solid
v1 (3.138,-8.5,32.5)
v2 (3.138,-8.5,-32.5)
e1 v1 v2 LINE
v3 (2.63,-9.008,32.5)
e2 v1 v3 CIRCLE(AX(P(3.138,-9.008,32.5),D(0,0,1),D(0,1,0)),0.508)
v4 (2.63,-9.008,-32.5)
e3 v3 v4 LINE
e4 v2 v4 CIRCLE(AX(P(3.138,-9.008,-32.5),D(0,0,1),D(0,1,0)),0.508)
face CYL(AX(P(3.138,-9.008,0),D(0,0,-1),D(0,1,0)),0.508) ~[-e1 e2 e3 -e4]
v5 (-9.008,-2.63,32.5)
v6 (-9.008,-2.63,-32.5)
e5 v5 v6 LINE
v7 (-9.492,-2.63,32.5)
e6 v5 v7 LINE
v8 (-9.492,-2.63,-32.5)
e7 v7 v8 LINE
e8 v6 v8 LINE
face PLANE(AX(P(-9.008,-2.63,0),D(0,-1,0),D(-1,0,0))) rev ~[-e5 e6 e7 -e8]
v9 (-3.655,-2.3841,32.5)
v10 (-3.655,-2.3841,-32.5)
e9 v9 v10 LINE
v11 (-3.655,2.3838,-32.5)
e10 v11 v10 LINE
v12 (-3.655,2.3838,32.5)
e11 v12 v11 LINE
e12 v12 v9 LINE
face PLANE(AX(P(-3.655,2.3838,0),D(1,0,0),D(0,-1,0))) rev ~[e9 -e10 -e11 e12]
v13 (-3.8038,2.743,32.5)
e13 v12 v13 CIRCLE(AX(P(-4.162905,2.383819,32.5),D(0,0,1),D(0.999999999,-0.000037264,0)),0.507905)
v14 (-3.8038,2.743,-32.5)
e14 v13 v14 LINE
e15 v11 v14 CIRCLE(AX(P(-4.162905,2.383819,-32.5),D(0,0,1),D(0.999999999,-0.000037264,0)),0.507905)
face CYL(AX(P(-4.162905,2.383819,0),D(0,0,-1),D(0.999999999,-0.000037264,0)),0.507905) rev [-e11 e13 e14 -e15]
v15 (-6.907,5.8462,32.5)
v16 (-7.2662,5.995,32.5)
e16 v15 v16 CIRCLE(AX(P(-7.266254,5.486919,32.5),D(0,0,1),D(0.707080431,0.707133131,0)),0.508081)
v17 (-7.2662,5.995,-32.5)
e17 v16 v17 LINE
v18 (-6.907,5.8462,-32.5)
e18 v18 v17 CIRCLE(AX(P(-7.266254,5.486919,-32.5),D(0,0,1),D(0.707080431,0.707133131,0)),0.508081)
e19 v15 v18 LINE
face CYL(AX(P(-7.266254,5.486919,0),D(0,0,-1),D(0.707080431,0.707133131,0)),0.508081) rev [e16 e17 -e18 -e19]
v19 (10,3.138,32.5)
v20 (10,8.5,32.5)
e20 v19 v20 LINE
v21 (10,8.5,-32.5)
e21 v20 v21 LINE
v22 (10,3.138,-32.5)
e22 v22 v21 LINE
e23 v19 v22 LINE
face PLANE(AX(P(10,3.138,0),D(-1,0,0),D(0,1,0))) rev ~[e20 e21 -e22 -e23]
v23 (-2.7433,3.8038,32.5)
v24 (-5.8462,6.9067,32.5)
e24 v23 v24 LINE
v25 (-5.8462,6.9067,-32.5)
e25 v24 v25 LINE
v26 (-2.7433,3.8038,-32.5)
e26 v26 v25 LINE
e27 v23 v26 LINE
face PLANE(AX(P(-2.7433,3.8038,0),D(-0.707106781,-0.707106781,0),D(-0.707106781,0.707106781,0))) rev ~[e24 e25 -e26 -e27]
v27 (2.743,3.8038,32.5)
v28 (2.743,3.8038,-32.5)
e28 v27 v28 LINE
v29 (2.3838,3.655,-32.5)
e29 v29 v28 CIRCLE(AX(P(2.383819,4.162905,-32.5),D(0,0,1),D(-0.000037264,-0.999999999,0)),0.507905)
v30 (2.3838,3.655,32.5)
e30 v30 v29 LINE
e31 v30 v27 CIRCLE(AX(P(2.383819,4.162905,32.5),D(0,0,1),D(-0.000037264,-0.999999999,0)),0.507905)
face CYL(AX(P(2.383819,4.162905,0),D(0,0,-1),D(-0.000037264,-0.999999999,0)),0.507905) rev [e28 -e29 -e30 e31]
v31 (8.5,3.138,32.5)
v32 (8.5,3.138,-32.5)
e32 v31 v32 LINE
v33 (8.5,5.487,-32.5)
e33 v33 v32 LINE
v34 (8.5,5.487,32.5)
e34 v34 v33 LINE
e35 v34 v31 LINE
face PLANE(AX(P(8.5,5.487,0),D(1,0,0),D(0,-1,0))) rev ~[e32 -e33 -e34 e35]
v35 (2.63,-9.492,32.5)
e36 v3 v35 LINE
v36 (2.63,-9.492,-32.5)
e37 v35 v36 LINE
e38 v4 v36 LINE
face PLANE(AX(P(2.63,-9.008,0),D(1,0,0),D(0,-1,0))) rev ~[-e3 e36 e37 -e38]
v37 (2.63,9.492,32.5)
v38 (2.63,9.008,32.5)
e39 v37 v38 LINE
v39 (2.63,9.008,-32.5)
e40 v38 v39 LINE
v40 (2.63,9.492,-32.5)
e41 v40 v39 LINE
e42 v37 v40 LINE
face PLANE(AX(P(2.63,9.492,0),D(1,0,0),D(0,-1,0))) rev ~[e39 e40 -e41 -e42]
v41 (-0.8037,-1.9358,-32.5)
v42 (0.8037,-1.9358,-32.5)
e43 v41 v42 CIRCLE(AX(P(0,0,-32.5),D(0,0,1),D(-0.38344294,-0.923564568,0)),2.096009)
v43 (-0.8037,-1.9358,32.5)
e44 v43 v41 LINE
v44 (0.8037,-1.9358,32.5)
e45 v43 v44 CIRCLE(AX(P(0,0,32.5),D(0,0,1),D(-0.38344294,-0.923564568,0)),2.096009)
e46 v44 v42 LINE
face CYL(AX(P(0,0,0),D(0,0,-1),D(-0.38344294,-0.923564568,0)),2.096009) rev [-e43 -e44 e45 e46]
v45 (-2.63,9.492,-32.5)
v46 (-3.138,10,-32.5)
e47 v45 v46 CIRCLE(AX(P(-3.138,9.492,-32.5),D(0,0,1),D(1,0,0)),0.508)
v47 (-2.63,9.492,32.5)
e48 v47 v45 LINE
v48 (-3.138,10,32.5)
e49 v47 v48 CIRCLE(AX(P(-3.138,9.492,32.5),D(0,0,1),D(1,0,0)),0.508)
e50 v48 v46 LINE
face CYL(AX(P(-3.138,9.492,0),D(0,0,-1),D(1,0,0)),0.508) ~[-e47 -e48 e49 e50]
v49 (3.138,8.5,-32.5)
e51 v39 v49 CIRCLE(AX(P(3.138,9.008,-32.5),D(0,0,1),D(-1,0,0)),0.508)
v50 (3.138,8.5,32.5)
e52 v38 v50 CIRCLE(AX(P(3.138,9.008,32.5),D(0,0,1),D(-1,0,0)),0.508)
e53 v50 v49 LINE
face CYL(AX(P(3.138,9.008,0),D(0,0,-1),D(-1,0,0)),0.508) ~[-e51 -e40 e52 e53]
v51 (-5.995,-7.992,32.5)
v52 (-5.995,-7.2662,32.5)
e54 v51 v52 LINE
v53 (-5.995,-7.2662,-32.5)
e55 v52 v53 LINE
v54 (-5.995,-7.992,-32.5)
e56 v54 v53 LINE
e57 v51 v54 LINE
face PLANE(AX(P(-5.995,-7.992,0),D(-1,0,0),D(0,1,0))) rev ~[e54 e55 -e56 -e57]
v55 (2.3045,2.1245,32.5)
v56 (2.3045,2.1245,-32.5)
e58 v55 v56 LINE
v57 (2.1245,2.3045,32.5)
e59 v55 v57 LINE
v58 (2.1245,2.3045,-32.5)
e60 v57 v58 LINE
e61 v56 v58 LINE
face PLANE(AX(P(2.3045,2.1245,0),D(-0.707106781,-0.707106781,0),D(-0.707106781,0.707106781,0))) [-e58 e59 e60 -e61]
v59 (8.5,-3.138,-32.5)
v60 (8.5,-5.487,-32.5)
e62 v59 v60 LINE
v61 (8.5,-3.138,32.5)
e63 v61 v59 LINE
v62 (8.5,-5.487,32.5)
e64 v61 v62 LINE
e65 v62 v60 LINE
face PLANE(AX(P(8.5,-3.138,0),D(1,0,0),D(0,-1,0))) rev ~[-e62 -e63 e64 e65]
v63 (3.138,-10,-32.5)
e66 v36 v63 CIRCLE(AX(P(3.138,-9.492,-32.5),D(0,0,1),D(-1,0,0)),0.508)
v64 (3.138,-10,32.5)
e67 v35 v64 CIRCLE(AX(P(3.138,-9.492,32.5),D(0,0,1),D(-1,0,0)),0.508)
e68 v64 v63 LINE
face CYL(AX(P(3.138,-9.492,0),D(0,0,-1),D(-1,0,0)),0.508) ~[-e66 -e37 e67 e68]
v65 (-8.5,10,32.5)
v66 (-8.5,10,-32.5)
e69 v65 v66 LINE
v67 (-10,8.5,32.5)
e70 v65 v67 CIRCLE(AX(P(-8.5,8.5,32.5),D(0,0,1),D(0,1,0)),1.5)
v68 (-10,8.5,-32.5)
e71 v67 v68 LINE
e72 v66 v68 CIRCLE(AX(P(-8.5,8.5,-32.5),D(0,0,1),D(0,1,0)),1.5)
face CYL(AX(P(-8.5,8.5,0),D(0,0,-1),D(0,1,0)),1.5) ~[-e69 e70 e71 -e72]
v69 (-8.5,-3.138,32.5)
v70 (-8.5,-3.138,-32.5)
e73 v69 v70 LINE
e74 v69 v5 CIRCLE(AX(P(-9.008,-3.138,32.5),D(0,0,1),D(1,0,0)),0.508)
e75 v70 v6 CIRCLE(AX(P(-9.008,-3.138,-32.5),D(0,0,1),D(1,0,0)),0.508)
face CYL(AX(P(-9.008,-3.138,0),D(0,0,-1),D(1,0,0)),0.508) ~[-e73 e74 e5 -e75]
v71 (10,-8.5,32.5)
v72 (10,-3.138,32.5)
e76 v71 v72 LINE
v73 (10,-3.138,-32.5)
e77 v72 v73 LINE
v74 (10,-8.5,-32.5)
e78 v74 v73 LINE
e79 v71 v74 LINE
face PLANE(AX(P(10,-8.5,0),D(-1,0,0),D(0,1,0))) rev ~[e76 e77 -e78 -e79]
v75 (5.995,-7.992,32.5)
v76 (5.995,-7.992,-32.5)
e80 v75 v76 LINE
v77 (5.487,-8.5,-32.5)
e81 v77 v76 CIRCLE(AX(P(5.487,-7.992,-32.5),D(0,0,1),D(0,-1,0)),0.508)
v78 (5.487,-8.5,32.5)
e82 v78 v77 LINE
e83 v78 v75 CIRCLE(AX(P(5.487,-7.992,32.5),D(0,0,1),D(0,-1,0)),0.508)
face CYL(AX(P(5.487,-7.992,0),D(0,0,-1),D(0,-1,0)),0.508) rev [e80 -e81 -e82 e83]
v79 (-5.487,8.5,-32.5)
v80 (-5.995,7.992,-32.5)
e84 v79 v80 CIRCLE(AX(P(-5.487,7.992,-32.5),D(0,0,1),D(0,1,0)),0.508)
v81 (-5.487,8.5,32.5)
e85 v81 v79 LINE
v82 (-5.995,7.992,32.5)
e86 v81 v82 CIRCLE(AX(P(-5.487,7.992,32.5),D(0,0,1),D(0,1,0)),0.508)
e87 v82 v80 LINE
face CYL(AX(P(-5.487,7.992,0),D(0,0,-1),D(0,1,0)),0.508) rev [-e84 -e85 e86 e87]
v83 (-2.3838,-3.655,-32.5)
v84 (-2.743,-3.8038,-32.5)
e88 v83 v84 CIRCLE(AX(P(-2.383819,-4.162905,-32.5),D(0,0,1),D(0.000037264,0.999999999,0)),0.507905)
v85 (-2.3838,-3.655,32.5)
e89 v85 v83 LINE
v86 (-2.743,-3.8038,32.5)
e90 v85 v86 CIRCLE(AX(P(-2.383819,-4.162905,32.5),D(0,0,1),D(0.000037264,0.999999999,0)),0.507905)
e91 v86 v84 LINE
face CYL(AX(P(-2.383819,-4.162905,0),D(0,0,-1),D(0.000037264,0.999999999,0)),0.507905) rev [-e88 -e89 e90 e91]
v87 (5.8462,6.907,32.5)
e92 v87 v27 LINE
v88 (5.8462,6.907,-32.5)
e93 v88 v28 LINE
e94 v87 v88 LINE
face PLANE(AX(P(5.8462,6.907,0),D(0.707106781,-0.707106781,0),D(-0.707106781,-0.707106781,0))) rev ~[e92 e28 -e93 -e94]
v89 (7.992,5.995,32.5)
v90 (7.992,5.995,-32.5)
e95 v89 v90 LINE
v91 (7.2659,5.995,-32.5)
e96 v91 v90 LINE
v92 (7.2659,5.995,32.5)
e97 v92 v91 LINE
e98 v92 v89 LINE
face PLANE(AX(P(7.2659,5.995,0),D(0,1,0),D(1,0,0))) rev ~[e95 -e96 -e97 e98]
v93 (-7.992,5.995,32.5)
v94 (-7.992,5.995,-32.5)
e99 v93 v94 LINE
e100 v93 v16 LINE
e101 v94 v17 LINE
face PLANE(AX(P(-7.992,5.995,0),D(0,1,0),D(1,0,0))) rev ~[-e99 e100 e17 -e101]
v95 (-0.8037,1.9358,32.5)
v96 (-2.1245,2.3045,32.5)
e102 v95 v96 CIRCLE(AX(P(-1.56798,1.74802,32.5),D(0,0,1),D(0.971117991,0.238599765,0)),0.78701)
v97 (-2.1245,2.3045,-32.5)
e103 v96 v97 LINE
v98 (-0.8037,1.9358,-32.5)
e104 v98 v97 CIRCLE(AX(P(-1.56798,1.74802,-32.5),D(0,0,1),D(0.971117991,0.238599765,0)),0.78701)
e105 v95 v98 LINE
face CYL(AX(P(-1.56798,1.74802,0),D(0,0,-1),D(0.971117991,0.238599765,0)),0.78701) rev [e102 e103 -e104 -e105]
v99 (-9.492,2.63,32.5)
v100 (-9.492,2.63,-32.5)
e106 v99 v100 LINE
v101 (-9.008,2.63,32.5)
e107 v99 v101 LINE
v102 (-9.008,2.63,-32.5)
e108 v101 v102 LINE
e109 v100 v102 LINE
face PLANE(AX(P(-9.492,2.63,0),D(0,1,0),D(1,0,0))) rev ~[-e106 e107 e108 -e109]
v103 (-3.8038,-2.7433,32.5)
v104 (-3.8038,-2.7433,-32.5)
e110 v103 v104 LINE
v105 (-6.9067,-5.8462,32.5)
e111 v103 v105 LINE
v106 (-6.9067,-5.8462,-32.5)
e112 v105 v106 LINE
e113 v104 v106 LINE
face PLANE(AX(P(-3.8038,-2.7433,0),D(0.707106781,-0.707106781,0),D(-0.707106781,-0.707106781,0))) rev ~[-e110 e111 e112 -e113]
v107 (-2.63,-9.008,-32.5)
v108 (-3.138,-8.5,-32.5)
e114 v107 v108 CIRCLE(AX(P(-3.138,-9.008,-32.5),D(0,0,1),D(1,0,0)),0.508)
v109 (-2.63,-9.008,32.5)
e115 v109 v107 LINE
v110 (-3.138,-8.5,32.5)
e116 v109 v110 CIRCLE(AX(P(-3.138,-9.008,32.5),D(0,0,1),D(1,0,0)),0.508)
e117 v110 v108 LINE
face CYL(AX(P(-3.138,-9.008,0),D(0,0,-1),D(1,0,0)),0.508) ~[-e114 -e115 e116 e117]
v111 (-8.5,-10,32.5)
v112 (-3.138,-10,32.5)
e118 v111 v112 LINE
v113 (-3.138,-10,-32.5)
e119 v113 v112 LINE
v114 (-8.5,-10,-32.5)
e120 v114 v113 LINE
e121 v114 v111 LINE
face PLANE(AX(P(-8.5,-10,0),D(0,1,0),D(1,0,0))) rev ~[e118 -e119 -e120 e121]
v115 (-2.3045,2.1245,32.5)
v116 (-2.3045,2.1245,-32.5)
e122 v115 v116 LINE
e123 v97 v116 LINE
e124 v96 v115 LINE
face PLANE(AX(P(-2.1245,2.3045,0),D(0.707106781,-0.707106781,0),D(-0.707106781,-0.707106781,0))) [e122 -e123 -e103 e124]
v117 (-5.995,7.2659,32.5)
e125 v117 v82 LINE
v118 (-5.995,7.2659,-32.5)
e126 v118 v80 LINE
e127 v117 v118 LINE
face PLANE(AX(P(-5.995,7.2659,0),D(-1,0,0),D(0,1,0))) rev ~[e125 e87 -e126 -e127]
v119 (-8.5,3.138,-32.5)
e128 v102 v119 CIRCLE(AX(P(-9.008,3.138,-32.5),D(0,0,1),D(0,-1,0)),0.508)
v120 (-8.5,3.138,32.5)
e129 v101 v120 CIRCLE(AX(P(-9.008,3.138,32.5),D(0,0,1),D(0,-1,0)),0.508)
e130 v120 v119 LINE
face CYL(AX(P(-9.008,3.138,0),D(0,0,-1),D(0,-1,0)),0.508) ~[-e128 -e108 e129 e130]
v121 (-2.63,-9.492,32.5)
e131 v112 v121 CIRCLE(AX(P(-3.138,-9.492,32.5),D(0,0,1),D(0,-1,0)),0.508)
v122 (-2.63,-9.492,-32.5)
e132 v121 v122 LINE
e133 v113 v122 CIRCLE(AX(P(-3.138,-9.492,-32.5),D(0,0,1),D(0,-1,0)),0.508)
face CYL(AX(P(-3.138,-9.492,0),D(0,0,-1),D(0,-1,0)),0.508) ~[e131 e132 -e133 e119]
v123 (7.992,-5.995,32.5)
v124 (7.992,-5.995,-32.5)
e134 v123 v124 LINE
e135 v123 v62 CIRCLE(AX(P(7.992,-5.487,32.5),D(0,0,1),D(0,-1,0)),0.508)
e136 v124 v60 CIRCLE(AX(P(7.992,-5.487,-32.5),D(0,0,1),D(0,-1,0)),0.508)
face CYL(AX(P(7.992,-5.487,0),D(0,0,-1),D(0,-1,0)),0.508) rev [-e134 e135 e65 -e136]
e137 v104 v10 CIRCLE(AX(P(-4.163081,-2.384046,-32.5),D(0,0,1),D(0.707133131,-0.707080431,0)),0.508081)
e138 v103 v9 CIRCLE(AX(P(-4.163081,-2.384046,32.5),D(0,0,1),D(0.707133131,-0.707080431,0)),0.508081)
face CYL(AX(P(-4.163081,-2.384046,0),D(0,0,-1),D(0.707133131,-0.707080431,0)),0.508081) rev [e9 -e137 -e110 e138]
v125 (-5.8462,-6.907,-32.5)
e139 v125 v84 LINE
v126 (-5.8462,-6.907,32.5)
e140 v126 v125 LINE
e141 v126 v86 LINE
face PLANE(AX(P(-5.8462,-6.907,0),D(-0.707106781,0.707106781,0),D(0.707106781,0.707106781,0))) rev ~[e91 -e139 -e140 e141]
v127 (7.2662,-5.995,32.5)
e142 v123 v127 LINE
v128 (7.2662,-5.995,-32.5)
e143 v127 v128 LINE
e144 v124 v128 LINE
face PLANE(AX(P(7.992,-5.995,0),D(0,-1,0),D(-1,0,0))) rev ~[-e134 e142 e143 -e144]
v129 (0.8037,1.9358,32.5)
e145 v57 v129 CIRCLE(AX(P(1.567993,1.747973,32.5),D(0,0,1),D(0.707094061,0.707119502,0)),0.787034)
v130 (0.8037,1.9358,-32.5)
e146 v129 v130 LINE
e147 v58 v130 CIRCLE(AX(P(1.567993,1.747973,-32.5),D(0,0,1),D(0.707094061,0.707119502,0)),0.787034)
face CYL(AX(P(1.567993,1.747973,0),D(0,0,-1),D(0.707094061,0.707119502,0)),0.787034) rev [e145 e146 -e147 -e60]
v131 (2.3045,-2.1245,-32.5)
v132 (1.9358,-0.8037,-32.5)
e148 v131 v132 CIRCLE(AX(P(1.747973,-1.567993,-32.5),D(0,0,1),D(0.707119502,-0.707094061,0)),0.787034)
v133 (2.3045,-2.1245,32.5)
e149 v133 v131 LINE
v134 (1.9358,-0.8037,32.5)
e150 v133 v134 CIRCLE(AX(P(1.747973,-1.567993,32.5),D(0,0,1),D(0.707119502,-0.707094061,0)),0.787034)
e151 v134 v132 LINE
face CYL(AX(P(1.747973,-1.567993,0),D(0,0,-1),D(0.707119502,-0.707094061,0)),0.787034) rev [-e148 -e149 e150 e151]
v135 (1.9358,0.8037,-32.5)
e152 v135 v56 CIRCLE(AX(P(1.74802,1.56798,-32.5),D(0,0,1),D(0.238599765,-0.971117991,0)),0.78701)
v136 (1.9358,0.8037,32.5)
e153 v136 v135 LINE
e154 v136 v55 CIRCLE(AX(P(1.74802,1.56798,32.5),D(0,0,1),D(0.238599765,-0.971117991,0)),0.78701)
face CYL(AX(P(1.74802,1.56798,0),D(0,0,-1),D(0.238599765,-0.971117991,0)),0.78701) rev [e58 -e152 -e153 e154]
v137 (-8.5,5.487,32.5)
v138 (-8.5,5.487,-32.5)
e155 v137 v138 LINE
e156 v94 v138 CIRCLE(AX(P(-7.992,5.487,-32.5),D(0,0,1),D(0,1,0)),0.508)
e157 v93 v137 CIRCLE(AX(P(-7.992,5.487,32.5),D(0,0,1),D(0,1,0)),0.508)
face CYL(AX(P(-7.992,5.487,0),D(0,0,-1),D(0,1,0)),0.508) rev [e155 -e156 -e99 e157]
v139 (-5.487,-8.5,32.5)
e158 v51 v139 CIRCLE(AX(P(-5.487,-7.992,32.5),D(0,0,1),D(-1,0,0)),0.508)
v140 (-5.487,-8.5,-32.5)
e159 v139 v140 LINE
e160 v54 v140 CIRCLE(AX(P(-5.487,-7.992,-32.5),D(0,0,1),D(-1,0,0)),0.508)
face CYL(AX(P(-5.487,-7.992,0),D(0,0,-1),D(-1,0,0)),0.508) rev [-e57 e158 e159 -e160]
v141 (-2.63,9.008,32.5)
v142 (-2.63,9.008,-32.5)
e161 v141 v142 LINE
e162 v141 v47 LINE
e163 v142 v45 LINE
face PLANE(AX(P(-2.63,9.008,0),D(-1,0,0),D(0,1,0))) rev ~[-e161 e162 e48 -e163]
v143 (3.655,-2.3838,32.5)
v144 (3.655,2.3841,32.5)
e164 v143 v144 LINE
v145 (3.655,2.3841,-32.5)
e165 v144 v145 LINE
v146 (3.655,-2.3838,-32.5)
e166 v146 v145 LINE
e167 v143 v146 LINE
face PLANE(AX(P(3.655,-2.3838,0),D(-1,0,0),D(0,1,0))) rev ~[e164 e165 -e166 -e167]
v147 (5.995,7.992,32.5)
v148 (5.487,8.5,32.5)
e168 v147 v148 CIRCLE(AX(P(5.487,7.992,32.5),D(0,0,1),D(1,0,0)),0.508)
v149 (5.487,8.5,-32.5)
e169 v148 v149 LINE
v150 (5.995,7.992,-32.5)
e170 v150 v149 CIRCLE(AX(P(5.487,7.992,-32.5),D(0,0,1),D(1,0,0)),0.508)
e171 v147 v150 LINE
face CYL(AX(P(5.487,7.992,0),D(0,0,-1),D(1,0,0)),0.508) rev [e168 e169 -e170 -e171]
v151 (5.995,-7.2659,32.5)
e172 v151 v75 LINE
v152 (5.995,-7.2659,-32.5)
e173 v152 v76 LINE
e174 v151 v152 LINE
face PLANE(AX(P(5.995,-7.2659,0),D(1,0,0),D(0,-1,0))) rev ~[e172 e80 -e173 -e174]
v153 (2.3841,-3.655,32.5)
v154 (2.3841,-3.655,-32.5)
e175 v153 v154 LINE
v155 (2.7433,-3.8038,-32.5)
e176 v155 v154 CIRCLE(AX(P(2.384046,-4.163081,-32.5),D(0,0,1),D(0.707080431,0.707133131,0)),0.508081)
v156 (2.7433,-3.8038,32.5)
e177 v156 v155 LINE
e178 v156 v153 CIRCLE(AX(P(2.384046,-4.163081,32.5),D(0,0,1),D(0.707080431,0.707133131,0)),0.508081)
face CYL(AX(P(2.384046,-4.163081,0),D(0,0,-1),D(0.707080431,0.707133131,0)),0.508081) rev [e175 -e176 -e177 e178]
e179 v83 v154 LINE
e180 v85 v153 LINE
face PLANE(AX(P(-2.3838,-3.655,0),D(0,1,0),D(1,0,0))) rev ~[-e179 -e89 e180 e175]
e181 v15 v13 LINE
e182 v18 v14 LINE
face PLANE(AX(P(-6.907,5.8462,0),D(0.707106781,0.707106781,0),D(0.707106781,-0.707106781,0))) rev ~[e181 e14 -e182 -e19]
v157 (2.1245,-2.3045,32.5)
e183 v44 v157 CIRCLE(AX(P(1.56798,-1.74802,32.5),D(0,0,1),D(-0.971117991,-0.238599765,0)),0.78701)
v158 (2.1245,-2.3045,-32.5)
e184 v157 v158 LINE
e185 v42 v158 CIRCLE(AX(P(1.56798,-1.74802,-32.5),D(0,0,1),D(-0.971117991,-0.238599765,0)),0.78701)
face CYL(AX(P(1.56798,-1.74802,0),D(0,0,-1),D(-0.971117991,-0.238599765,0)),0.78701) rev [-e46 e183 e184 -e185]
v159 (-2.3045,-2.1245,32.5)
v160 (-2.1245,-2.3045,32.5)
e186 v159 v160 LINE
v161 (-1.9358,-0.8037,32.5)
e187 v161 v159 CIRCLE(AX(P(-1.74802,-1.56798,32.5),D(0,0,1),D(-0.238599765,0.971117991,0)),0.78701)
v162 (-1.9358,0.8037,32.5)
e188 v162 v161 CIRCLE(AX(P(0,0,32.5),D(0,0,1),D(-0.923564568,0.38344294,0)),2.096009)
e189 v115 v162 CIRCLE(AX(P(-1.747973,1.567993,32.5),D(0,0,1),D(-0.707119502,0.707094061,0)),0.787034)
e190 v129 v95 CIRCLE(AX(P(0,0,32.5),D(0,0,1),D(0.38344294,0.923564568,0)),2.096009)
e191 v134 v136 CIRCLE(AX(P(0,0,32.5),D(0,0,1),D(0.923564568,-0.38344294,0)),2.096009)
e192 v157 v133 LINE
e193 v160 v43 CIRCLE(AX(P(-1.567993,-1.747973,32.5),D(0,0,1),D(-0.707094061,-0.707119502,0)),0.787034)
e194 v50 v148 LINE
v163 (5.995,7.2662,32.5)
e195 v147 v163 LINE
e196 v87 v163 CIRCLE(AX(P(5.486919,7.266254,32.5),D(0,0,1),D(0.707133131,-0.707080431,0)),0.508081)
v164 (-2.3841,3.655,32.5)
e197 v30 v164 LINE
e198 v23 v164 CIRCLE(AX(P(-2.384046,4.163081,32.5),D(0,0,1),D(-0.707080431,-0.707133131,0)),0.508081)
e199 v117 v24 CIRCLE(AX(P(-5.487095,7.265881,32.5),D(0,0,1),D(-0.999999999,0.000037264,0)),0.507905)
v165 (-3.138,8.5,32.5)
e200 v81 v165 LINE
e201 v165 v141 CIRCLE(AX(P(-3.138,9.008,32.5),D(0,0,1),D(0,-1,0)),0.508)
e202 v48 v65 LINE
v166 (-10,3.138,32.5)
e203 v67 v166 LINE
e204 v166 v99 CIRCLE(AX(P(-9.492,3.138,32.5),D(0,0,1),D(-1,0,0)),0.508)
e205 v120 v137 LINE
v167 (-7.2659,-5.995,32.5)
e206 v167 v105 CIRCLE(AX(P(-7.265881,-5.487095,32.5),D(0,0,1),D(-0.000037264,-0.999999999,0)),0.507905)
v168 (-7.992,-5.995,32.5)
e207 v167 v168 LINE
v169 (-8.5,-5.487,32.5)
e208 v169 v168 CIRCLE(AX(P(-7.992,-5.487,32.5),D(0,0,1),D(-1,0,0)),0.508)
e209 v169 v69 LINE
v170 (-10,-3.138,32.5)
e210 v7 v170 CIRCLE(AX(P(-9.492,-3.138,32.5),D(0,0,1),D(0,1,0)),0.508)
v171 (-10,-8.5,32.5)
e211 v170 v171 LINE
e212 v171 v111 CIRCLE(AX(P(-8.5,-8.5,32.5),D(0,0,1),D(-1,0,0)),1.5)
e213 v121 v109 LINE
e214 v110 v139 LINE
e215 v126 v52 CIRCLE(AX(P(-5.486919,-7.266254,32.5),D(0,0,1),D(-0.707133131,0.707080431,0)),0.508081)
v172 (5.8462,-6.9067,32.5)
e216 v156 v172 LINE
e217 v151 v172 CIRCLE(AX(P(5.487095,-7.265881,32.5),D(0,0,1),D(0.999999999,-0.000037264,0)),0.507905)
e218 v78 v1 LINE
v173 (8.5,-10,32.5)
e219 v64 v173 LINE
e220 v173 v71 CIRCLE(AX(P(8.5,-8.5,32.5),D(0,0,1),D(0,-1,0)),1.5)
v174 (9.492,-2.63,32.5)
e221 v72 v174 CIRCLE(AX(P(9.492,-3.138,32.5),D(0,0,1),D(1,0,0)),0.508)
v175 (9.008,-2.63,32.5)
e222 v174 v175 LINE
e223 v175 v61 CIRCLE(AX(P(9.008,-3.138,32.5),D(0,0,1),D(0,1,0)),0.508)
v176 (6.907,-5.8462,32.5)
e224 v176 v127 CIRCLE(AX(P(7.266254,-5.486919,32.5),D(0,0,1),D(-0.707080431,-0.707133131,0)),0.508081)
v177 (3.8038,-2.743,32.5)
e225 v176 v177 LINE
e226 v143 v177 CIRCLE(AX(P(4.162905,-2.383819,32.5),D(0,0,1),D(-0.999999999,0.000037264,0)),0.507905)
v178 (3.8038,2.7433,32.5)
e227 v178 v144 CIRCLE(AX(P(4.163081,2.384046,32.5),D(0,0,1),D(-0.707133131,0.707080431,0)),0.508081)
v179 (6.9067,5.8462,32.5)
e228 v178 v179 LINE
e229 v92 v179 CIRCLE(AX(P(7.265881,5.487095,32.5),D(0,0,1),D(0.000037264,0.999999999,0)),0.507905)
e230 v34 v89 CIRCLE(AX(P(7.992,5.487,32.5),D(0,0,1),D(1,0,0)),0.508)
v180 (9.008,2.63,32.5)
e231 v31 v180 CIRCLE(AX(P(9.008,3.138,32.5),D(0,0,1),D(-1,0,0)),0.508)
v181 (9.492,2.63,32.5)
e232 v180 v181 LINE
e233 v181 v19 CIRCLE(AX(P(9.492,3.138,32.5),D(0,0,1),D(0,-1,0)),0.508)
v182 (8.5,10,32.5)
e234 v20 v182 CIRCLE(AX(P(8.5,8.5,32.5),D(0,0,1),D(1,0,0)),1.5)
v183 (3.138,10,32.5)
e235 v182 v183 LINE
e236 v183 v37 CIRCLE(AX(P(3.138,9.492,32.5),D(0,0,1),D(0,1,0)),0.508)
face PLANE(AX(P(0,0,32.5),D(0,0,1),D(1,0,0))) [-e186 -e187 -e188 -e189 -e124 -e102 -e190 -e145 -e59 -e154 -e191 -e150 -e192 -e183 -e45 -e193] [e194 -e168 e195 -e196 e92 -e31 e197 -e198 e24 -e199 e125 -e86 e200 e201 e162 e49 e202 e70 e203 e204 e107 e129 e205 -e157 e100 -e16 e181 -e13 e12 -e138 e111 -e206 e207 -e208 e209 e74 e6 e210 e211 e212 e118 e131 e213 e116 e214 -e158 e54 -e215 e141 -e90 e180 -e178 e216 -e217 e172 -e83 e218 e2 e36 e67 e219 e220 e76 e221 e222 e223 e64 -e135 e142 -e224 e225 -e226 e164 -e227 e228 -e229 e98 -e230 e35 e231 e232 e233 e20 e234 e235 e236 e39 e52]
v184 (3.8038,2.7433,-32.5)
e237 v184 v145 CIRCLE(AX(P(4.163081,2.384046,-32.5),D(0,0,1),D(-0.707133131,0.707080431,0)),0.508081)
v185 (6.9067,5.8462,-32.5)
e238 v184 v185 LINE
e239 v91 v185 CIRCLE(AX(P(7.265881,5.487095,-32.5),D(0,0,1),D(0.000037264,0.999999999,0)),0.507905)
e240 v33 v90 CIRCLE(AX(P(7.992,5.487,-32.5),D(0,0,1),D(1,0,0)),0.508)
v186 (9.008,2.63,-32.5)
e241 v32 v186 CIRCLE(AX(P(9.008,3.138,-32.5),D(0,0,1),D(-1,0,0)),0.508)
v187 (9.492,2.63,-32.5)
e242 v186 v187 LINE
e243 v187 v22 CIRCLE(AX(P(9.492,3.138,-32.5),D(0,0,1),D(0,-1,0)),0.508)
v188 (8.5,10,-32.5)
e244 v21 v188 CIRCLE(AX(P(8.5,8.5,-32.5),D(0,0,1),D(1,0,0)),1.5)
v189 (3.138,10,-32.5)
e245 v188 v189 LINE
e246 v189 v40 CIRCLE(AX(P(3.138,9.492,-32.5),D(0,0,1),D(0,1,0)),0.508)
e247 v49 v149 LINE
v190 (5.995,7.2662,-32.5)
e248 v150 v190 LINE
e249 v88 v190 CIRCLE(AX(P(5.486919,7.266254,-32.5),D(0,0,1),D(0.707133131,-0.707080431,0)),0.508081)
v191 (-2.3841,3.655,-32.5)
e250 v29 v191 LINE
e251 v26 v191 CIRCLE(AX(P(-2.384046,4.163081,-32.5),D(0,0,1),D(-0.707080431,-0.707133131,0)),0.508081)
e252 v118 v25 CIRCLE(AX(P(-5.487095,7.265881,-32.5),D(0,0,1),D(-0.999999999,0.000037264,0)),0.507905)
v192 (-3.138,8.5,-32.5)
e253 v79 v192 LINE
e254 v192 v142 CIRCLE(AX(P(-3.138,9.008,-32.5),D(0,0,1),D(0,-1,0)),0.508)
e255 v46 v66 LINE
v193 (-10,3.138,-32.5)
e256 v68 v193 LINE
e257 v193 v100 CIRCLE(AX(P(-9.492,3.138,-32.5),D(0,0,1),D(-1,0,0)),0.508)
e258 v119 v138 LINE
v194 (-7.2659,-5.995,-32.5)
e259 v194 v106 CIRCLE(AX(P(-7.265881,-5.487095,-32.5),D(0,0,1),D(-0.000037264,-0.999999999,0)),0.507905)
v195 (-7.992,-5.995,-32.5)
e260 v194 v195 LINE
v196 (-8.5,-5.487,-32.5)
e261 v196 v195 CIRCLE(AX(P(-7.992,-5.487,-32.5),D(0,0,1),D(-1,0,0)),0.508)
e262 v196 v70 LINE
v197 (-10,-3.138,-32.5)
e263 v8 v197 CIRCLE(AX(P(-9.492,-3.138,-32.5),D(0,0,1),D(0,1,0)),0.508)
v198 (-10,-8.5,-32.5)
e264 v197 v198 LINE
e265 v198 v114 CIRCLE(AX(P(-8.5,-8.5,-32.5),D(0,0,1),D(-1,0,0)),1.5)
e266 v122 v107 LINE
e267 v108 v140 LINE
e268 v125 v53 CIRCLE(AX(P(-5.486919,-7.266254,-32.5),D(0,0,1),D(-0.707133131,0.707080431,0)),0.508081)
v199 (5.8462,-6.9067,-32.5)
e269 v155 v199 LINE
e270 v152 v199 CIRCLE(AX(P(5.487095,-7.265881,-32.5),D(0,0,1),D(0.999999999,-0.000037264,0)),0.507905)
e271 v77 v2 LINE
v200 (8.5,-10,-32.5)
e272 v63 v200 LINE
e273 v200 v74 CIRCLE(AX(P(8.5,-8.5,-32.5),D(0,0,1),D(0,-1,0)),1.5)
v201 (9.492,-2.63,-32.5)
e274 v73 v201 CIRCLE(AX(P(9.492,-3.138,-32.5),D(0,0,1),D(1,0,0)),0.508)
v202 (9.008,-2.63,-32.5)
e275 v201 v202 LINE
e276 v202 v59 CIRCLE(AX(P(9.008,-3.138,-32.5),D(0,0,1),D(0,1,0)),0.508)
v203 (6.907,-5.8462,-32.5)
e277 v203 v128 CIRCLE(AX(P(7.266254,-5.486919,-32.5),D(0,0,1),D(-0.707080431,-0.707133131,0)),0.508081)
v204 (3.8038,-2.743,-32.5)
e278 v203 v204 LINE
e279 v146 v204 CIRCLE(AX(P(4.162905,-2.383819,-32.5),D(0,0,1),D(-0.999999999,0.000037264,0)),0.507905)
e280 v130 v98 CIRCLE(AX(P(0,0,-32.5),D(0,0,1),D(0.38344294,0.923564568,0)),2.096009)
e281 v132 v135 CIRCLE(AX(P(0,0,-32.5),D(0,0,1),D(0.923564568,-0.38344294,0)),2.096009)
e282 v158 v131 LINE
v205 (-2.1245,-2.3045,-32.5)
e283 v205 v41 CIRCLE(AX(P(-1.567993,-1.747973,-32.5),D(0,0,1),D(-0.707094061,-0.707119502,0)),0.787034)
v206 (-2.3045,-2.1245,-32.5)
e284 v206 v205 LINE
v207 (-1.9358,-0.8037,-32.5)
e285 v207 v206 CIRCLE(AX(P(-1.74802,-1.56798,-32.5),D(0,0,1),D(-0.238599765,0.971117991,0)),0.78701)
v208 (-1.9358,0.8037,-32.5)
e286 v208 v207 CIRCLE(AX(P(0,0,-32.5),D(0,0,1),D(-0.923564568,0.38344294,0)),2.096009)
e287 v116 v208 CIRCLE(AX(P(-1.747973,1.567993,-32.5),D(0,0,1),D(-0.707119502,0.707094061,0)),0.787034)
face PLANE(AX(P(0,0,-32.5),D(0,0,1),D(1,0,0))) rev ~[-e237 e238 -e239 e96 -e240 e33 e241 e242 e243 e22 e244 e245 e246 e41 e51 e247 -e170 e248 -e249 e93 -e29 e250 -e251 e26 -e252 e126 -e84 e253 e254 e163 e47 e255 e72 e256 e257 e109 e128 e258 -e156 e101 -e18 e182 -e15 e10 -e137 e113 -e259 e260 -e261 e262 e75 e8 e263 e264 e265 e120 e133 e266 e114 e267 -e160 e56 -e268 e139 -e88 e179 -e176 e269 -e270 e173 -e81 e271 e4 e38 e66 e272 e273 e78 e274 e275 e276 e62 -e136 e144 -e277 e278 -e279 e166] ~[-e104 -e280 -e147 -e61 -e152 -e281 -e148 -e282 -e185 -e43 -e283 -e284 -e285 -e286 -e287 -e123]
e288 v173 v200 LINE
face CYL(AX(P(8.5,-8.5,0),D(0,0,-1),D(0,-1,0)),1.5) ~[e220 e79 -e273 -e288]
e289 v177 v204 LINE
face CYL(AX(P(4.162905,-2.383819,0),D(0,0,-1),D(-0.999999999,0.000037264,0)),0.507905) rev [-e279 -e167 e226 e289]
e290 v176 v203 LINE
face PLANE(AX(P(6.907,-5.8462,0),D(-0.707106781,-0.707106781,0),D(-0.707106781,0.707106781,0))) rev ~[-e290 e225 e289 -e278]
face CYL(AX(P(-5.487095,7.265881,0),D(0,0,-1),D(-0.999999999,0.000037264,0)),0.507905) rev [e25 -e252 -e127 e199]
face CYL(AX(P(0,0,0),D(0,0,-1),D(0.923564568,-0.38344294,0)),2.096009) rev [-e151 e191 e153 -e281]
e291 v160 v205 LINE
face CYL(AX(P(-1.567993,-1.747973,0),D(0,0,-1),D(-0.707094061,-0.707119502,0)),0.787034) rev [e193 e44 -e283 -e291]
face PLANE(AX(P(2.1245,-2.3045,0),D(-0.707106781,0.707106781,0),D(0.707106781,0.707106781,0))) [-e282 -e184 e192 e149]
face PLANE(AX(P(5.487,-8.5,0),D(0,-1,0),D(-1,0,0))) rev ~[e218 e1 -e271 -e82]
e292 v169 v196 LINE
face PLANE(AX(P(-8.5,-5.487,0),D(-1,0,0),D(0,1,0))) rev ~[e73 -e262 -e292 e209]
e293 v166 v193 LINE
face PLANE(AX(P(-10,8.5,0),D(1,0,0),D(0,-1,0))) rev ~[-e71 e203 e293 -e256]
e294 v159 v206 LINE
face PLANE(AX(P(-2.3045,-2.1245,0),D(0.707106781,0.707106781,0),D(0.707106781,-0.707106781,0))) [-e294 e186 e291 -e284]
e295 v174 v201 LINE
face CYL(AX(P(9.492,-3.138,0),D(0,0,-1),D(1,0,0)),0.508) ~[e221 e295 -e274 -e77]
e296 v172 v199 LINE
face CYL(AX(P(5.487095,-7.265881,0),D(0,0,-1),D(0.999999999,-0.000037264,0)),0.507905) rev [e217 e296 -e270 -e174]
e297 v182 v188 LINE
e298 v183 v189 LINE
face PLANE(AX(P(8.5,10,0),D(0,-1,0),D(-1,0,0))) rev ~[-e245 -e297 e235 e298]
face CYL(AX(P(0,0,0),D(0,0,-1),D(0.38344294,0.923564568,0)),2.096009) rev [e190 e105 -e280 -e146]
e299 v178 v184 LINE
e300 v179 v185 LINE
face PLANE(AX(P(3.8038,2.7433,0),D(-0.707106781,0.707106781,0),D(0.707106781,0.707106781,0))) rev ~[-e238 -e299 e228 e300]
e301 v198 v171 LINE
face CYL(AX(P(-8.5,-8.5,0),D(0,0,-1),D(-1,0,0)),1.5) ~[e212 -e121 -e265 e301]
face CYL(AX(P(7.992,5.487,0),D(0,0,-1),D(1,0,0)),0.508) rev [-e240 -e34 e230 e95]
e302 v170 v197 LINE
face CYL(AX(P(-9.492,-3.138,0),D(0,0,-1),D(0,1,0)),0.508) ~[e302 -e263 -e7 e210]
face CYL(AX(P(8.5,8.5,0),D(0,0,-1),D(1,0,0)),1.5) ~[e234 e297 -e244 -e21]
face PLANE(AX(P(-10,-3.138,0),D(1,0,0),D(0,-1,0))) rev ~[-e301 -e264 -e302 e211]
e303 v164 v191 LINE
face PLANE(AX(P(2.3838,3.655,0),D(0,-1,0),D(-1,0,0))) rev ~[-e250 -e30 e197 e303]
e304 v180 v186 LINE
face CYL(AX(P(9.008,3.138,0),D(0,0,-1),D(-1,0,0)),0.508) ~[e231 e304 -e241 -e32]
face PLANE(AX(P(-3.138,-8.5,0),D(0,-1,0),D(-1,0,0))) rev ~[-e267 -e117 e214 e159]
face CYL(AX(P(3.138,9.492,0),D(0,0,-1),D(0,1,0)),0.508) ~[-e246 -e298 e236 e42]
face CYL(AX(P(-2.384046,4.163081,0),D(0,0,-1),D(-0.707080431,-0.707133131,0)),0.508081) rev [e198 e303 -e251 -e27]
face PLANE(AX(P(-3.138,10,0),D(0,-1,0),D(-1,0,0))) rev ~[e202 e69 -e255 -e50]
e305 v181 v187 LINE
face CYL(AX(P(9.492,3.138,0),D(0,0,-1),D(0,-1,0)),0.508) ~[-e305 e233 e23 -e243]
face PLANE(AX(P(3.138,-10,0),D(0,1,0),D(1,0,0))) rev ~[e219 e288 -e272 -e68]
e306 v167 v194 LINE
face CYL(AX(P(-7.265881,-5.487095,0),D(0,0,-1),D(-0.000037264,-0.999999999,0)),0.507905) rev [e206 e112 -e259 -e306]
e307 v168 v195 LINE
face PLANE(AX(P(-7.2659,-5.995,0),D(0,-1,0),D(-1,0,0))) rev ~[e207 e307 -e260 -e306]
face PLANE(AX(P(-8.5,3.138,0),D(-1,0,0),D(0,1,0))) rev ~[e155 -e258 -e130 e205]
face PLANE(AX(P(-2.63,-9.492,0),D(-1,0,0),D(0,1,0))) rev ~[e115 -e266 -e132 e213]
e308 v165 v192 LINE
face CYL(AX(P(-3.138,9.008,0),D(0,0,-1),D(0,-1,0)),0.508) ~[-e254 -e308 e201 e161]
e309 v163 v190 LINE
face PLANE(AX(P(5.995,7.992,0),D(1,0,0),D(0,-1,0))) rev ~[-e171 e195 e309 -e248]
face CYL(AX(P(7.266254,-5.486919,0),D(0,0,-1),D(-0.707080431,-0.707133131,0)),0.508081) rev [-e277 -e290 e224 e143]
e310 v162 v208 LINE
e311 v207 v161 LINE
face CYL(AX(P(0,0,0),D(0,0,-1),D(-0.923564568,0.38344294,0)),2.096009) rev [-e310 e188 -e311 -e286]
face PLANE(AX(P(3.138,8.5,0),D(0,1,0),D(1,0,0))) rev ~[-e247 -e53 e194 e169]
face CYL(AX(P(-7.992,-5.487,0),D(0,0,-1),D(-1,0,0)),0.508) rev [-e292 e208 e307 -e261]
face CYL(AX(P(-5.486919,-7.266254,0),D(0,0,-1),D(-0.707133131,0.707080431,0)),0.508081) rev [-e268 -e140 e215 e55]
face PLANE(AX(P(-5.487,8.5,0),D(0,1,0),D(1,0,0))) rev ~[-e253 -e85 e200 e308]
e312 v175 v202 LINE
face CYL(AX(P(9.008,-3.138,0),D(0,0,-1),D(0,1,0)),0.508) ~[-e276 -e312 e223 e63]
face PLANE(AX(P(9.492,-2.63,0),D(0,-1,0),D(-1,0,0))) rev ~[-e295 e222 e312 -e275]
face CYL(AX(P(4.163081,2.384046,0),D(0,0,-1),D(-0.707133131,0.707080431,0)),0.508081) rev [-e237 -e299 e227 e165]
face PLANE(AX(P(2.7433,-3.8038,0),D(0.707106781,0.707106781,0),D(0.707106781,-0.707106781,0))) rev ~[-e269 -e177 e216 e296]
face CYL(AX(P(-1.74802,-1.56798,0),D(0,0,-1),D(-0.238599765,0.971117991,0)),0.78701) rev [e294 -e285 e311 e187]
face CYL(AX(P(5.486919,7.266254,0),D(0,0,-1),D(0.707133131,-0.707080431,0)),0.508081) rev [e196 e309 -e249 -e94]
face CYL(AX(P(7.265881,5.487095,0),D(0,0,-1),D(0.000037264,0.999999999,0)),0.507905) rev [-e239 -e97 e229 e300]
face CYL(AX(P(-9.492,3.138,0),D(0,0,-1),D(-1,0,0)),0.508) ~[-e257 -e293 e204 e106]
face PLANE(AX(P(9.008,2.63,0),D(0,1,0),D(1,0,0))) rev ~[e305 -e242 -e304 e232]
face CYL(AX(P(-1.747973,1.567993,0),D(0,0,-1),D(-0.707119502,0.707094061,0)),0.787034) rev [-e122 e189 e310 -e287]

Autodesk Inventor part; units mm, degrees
ref_plane "YZ Plane" through (0, 0, 0) normal (1, 0, 0) x (0, 1, 0)
ref_plane "XZ Plane" through (0, 0, 0) normal (0, 1, 0) x (-1, 0, 0)
ref_plane "XY Plane" through (0, 0, 0) normal (0, 0, 1) x (1, 0, 0)
sketch "Sketch1" plane through (0, 0, 0) normal (0, 0, 1) x (1, 0, 0)
  arc A0 (-10, -8.5) -> (-8.5, -10) centre (-8.5, -8.5) ccw
  line L0 (-8.5, -10) -> (-3.138, -10)
  arc A1 (-3.138, -10) -> (-2.63, -9.492) centre (-3.138, -9.492) ccw
  line L1 (-2.63, -9.492) -> (-2.63, -9.008)
  arc A2 (-2.63, -9.008) -> (-3.138, -8.5) centre (-3.138, -9.008) ccw
  line L2 (-3.138, -8.5) -> (-5.487, -8.5)
  arc A3 (-5.995, -7.992) -> (-5.487, -8.5) centre (-5.487, -7.992) ccw
  line L3 (-5.995, -7.992) -> (-5.995, -7.2662)
  arc A4 (-5.8462, -6.907) -> (-5.995, -7.2662) centre (-5.487, -7.2662) ccw
  line L4 (-5.8462, -6.907) -> (-2.743, -3.8038)
  arc A5 (-2.3838, -3.655) -> (-2.743, -3.8038) centre (-2.3838, -4.163) ccw
  line L5 (-2.3838, -3.655) -> (2.3841, -3.655)
  arc A6 (2.7433, -3.8038) -> (2.3841, -3.655) centre (2.3841, -4.163) ccw
  line L6 (2.7433, -3.8038) -> (5.8462, -6.9067)
  arc A7 (5.995, -7.2659) -> (5.8462, -6.9067) centre (5.487, -7.2659) ccw
  line L7 (5.995, -7.2659) -> (5.995, -7.992)
  arc A8 (5.487, -8.5) -> (5.995, -7.992) centre (5.487, -7.992) ccw
  line L8 (5.487, -8.5) -> (3.138, -8.5)
  arc A9 (3.138, -8.5) -> (2.63, -9.008) centre (3.138, -9.008) ccw
  line L9 (2.63, -9.008) -> (2.63, -9.492)
  arc A10 (2.63, -9.492) -> (3.138, -10) centre (3.138, -9.492) ccw
  line L10 (3.138, -10) -> (8.5, -10)
  arc A11 (8.5, -10) -> (10, -8.5) centre (8.5, -8.5) ccw
  line L11 (10, -8.5) -> (10, -3.138)
  arc A12 (10, -3.138) -> (9.492, -2.63) centre (9.492, -3.138) ccw
  line L12 (9.492, -2.63) -> (9.008, -2.63)
  arc A13 (9.008, -2.63) -> (8.5, -3.138) centre (9.008, -3.138) ccw
  line L13 (8.5, -3.138) -> (8.5, -5.487)
  arc A14 (7.992, -5.995) -> (8.5, -5.487) centre (7.992, -5.487) ccw
  line L14 (7.992, -5.995) -> (7.2662, -5.995)
  arc A15 (6.907, -5.8462) -> (7.2662, -5.995) centre (7.2662, -5.487) ccw
  line L15 (6.907, -5.8462) -> (3.8038, -2.743)
  arc A16 (3.655, -2.3838) -> (3.8038, -2.743) centre (4.163, -2.3838) ccw
  line L16 (3.655, -2.3838) -> (3.655, 2.3841)
  arc A17 (3.8038, 2.7433) -> (3.655, 2.3841) centre (4.163, 2.3841) ccw
  line L17 (3.8038, 2.7433) -> (6.9067, 5.8462)
  arc A18 (7.2659, 5.995) -> (6.9067, 5.8462) centre (7.2659, 5.487) ccw
  line L18 (7.2659, 5.995) -> (7.992, 5.995)
  arc A19 (8.5, 5.487) -> (7.992, 5.995) centre (7.992, 5.487) ccw
  line L19 (8.5, 5.487) -> (8.5, 3.138)
  arc A20 (8.5, 3.138) -> (9.008, 2.63) centre (9.008, 3.138) ccw
  line L20 (9.008, 2.63) -> (9.492, 2.63)
  arc A21 (9.492, 2.63) -> (10, 3.138) centre (9.492, 3.138) ccw
  line L21 (10, 3.138) -> (10, 8.5)
  arc A22 (10, 8.5) -> (8.5, 10) centre (8.5, 8.5) ccw
  line L22 (8.5, 10) -> (3.138, 10)
  arc A23 (3.138, 10) -> (2.63, 9.492) centre (3.138, 9.492) ccw
  line L23 (2.63, 9.492) -> (2.63, 9.008)
  arc A24 (2.63, 9.008) -> (3.138, 8.5) centre (3.138, 9.008) ccw
  line L24 (3.138, 8.5) -> (5.487, 8.5)
  arc A25 (5.995, 7.992) -> (5.487, 8.5) centre (5.487, 7.992) ccw
  line L25 (5.995, 7.992) -> (5.995, 7.2662)
  arc A26 (5.8462, 6.907) -> (5.995, 7.2662) centre (5.487, 7.2662) ccw
  line L26 (5.8462, 6.907) -> (2.743, 3.8038)
  arc A27 (2.3838, 3.655) -> (2.743, 3.8038) centre (2.3838, 4.163) ccw
  line L27 (2.3838, 3.655) -> (-2.3841, 3.655)
  arc A28 (-2.7433, 3.8038) -> (-2.3841, 3.655) centre (-2.3841, 4.163) ccw
  line L28 (-2.7433, 3.8038) -> (-5.8462, 6.9067)
  arc A29 (-5.995, 7.2659) -> (-5.8462, 6.9067) centre (-5.487, 7.2659) ccw
  line L29 (-5.995, 7.2659) -> (-5.995, 7.992)
  arc A30 (-5.487, 8.5) -> (-5.995, 7.992) centre (-5.487, 7.992) ccw
  line L30 (-5.487, 8.5) -> (-3.138, 8.5)
  arc A31 (-3.138, 8.5) -> (-2.63, 9.008) centre (-3.138, 9.008) ccw
  line L31 (-2.63, 9.008) -> (-2.63, 9.492)
  arc A32 (-2.63, 9.492) -> (-3.138, 10) centre (-3.138, 9.492) ccw
  line L32 (-3.138, 10) -> (-8.5, 10)
  arc A33 (-8.5, 10) -> (-10, 8.5) centre (-8.5, 8.5) ccw
  line L33 (-10, 8.5) -> (-10, 3.138)
  arc A34 (-10, 3.138) -> (-9.492, 2.63) centre (-9.492, 3.138) ccw
  line L34 (-9.492, 2.63) -> (-9.008, 2.63)
  arc A35 (-9.008, 2.63) -> (-8.5, 3.138) centre (-9.008, 3.138) ccw
  line L35 (-8.5, 3.138) -> (-8.5, 5.487)
  arc A36 (-7.992, 5.995) -> (-8.5, 5.487) centre (-7.992, 5.487) ccw
  line L36 (-7.992, 5.995) -> (-7.2662, 5.995)
  arc A37 (-6.907, 5.8462) -> (-7.2662, 5.995) centre (-7.2662, 5.487) ccw
  line L37 (-6.907, 5.8462) -> (-3.8038, 2.743)
  arc A38 (-3.655, 2.3838) -> (-3.8038, 2.743) centre (-4.163, 2.3838) ccw
  line L38 (-3.655, 2.3838) -> (-3.655, -2.3841)
  arc A39 (-3.8038, -2.7433) -> (-3.655, -2.3841) centre (-4.163, -2.3841) ccw
  line L39 (-3.8038, -2.7433) -> (-6.9067, -5.8462)
  arc A40 (-7.2659, -5.995) -> (-6.9067, -5.8462) centre (-7.2659, -5.487) ccw
  line L40 (-7.2659, -5.995) -> (-7.992, -5.995)
  arc A41 (-8.5, -5.487) -> (-7.992, -5.995) centre (-7.992, -5.487) ccw
  line L41 (-8.5, -5.487) -> (-8.5, -3.138)
  arc A42 (-8.5, -3.138) -> (-9.008, -2.63) centre (-9.008, -3.138) ccw
  line L42 (-9.008, -2.63) -> (-9.492, -2.63)
  arc A43 (-9.492, -2.63) -> (-10, -3.138) centre (-9.492, -3.138) ccw
  line L43 (-10, -3.138) -> (-10, -8.5)
  arc A44 (-1.9358, -0.8037) -> (-2.3045, -2.1245) centre (-1.748, -1.568) ccw
  line L44 (-2.3045, -2.1245) -> (-2.1245, -2.3045)
  arc A45 (-2.1245, -2.3045) -> (-0.8037, -1.9358) centre (-1.568, -1.748) ccw
  arc A46 (-0.8037, -1.9358) -> (0.8037, -1.9358) centre (0, 0) ccw
  arc A47 (0.8037, -1.9358) -> (2.1245, -2.3045) centre (1.568, -1.748) ccw
  line L45 (2.1245, -2.3045) -> (2.3045, -2.1245)
  arc A48 (2.3045, -2.1245) -> (1.9358, -0.8037) centre (1.748, -1.568) ccw
  arc A49 (1.9358, -0.8037) -> (1.9358, 0.8037) centre (0, 0) ccw
  arc A50 (1.9358, 0.8037) -> (2.3045, 2.1245) centre (1.748, 1.568) ccw
  line L46 (2.3045, 2.1245) -> (2.1245, 2.3045)
  arc A51 (2.1245, 2.3045) -> (0.8037, 1.9358) centre (1.568, 1.748) ccw
  arc A52 (0.8037, 1.9358) -> (-0.8037, 1.9358) centre (0, 0) ccw
  arc A53 (-0.8037, 1.9358) -> (-2.1245, 2.3045) centre (-1.568, 1.748) ccw
  line L47 (-2.1245, 2.3045) -> (-2.3045, 2.1245)
  arc A54 (-2.3045, 2.1245) -> (-1.9358, 0.8037) centre (-1.748, 1.568) ccw
  arc A55 (-1.9358, 0.8037) -> (-1.9358, -0.8037) centre (0, 0) ccw
  point P0 (0, 0)
extrude "Extrusion1" add sketch "Sketch1" along normal mid plane 65
properties part number "20-2020-285"
